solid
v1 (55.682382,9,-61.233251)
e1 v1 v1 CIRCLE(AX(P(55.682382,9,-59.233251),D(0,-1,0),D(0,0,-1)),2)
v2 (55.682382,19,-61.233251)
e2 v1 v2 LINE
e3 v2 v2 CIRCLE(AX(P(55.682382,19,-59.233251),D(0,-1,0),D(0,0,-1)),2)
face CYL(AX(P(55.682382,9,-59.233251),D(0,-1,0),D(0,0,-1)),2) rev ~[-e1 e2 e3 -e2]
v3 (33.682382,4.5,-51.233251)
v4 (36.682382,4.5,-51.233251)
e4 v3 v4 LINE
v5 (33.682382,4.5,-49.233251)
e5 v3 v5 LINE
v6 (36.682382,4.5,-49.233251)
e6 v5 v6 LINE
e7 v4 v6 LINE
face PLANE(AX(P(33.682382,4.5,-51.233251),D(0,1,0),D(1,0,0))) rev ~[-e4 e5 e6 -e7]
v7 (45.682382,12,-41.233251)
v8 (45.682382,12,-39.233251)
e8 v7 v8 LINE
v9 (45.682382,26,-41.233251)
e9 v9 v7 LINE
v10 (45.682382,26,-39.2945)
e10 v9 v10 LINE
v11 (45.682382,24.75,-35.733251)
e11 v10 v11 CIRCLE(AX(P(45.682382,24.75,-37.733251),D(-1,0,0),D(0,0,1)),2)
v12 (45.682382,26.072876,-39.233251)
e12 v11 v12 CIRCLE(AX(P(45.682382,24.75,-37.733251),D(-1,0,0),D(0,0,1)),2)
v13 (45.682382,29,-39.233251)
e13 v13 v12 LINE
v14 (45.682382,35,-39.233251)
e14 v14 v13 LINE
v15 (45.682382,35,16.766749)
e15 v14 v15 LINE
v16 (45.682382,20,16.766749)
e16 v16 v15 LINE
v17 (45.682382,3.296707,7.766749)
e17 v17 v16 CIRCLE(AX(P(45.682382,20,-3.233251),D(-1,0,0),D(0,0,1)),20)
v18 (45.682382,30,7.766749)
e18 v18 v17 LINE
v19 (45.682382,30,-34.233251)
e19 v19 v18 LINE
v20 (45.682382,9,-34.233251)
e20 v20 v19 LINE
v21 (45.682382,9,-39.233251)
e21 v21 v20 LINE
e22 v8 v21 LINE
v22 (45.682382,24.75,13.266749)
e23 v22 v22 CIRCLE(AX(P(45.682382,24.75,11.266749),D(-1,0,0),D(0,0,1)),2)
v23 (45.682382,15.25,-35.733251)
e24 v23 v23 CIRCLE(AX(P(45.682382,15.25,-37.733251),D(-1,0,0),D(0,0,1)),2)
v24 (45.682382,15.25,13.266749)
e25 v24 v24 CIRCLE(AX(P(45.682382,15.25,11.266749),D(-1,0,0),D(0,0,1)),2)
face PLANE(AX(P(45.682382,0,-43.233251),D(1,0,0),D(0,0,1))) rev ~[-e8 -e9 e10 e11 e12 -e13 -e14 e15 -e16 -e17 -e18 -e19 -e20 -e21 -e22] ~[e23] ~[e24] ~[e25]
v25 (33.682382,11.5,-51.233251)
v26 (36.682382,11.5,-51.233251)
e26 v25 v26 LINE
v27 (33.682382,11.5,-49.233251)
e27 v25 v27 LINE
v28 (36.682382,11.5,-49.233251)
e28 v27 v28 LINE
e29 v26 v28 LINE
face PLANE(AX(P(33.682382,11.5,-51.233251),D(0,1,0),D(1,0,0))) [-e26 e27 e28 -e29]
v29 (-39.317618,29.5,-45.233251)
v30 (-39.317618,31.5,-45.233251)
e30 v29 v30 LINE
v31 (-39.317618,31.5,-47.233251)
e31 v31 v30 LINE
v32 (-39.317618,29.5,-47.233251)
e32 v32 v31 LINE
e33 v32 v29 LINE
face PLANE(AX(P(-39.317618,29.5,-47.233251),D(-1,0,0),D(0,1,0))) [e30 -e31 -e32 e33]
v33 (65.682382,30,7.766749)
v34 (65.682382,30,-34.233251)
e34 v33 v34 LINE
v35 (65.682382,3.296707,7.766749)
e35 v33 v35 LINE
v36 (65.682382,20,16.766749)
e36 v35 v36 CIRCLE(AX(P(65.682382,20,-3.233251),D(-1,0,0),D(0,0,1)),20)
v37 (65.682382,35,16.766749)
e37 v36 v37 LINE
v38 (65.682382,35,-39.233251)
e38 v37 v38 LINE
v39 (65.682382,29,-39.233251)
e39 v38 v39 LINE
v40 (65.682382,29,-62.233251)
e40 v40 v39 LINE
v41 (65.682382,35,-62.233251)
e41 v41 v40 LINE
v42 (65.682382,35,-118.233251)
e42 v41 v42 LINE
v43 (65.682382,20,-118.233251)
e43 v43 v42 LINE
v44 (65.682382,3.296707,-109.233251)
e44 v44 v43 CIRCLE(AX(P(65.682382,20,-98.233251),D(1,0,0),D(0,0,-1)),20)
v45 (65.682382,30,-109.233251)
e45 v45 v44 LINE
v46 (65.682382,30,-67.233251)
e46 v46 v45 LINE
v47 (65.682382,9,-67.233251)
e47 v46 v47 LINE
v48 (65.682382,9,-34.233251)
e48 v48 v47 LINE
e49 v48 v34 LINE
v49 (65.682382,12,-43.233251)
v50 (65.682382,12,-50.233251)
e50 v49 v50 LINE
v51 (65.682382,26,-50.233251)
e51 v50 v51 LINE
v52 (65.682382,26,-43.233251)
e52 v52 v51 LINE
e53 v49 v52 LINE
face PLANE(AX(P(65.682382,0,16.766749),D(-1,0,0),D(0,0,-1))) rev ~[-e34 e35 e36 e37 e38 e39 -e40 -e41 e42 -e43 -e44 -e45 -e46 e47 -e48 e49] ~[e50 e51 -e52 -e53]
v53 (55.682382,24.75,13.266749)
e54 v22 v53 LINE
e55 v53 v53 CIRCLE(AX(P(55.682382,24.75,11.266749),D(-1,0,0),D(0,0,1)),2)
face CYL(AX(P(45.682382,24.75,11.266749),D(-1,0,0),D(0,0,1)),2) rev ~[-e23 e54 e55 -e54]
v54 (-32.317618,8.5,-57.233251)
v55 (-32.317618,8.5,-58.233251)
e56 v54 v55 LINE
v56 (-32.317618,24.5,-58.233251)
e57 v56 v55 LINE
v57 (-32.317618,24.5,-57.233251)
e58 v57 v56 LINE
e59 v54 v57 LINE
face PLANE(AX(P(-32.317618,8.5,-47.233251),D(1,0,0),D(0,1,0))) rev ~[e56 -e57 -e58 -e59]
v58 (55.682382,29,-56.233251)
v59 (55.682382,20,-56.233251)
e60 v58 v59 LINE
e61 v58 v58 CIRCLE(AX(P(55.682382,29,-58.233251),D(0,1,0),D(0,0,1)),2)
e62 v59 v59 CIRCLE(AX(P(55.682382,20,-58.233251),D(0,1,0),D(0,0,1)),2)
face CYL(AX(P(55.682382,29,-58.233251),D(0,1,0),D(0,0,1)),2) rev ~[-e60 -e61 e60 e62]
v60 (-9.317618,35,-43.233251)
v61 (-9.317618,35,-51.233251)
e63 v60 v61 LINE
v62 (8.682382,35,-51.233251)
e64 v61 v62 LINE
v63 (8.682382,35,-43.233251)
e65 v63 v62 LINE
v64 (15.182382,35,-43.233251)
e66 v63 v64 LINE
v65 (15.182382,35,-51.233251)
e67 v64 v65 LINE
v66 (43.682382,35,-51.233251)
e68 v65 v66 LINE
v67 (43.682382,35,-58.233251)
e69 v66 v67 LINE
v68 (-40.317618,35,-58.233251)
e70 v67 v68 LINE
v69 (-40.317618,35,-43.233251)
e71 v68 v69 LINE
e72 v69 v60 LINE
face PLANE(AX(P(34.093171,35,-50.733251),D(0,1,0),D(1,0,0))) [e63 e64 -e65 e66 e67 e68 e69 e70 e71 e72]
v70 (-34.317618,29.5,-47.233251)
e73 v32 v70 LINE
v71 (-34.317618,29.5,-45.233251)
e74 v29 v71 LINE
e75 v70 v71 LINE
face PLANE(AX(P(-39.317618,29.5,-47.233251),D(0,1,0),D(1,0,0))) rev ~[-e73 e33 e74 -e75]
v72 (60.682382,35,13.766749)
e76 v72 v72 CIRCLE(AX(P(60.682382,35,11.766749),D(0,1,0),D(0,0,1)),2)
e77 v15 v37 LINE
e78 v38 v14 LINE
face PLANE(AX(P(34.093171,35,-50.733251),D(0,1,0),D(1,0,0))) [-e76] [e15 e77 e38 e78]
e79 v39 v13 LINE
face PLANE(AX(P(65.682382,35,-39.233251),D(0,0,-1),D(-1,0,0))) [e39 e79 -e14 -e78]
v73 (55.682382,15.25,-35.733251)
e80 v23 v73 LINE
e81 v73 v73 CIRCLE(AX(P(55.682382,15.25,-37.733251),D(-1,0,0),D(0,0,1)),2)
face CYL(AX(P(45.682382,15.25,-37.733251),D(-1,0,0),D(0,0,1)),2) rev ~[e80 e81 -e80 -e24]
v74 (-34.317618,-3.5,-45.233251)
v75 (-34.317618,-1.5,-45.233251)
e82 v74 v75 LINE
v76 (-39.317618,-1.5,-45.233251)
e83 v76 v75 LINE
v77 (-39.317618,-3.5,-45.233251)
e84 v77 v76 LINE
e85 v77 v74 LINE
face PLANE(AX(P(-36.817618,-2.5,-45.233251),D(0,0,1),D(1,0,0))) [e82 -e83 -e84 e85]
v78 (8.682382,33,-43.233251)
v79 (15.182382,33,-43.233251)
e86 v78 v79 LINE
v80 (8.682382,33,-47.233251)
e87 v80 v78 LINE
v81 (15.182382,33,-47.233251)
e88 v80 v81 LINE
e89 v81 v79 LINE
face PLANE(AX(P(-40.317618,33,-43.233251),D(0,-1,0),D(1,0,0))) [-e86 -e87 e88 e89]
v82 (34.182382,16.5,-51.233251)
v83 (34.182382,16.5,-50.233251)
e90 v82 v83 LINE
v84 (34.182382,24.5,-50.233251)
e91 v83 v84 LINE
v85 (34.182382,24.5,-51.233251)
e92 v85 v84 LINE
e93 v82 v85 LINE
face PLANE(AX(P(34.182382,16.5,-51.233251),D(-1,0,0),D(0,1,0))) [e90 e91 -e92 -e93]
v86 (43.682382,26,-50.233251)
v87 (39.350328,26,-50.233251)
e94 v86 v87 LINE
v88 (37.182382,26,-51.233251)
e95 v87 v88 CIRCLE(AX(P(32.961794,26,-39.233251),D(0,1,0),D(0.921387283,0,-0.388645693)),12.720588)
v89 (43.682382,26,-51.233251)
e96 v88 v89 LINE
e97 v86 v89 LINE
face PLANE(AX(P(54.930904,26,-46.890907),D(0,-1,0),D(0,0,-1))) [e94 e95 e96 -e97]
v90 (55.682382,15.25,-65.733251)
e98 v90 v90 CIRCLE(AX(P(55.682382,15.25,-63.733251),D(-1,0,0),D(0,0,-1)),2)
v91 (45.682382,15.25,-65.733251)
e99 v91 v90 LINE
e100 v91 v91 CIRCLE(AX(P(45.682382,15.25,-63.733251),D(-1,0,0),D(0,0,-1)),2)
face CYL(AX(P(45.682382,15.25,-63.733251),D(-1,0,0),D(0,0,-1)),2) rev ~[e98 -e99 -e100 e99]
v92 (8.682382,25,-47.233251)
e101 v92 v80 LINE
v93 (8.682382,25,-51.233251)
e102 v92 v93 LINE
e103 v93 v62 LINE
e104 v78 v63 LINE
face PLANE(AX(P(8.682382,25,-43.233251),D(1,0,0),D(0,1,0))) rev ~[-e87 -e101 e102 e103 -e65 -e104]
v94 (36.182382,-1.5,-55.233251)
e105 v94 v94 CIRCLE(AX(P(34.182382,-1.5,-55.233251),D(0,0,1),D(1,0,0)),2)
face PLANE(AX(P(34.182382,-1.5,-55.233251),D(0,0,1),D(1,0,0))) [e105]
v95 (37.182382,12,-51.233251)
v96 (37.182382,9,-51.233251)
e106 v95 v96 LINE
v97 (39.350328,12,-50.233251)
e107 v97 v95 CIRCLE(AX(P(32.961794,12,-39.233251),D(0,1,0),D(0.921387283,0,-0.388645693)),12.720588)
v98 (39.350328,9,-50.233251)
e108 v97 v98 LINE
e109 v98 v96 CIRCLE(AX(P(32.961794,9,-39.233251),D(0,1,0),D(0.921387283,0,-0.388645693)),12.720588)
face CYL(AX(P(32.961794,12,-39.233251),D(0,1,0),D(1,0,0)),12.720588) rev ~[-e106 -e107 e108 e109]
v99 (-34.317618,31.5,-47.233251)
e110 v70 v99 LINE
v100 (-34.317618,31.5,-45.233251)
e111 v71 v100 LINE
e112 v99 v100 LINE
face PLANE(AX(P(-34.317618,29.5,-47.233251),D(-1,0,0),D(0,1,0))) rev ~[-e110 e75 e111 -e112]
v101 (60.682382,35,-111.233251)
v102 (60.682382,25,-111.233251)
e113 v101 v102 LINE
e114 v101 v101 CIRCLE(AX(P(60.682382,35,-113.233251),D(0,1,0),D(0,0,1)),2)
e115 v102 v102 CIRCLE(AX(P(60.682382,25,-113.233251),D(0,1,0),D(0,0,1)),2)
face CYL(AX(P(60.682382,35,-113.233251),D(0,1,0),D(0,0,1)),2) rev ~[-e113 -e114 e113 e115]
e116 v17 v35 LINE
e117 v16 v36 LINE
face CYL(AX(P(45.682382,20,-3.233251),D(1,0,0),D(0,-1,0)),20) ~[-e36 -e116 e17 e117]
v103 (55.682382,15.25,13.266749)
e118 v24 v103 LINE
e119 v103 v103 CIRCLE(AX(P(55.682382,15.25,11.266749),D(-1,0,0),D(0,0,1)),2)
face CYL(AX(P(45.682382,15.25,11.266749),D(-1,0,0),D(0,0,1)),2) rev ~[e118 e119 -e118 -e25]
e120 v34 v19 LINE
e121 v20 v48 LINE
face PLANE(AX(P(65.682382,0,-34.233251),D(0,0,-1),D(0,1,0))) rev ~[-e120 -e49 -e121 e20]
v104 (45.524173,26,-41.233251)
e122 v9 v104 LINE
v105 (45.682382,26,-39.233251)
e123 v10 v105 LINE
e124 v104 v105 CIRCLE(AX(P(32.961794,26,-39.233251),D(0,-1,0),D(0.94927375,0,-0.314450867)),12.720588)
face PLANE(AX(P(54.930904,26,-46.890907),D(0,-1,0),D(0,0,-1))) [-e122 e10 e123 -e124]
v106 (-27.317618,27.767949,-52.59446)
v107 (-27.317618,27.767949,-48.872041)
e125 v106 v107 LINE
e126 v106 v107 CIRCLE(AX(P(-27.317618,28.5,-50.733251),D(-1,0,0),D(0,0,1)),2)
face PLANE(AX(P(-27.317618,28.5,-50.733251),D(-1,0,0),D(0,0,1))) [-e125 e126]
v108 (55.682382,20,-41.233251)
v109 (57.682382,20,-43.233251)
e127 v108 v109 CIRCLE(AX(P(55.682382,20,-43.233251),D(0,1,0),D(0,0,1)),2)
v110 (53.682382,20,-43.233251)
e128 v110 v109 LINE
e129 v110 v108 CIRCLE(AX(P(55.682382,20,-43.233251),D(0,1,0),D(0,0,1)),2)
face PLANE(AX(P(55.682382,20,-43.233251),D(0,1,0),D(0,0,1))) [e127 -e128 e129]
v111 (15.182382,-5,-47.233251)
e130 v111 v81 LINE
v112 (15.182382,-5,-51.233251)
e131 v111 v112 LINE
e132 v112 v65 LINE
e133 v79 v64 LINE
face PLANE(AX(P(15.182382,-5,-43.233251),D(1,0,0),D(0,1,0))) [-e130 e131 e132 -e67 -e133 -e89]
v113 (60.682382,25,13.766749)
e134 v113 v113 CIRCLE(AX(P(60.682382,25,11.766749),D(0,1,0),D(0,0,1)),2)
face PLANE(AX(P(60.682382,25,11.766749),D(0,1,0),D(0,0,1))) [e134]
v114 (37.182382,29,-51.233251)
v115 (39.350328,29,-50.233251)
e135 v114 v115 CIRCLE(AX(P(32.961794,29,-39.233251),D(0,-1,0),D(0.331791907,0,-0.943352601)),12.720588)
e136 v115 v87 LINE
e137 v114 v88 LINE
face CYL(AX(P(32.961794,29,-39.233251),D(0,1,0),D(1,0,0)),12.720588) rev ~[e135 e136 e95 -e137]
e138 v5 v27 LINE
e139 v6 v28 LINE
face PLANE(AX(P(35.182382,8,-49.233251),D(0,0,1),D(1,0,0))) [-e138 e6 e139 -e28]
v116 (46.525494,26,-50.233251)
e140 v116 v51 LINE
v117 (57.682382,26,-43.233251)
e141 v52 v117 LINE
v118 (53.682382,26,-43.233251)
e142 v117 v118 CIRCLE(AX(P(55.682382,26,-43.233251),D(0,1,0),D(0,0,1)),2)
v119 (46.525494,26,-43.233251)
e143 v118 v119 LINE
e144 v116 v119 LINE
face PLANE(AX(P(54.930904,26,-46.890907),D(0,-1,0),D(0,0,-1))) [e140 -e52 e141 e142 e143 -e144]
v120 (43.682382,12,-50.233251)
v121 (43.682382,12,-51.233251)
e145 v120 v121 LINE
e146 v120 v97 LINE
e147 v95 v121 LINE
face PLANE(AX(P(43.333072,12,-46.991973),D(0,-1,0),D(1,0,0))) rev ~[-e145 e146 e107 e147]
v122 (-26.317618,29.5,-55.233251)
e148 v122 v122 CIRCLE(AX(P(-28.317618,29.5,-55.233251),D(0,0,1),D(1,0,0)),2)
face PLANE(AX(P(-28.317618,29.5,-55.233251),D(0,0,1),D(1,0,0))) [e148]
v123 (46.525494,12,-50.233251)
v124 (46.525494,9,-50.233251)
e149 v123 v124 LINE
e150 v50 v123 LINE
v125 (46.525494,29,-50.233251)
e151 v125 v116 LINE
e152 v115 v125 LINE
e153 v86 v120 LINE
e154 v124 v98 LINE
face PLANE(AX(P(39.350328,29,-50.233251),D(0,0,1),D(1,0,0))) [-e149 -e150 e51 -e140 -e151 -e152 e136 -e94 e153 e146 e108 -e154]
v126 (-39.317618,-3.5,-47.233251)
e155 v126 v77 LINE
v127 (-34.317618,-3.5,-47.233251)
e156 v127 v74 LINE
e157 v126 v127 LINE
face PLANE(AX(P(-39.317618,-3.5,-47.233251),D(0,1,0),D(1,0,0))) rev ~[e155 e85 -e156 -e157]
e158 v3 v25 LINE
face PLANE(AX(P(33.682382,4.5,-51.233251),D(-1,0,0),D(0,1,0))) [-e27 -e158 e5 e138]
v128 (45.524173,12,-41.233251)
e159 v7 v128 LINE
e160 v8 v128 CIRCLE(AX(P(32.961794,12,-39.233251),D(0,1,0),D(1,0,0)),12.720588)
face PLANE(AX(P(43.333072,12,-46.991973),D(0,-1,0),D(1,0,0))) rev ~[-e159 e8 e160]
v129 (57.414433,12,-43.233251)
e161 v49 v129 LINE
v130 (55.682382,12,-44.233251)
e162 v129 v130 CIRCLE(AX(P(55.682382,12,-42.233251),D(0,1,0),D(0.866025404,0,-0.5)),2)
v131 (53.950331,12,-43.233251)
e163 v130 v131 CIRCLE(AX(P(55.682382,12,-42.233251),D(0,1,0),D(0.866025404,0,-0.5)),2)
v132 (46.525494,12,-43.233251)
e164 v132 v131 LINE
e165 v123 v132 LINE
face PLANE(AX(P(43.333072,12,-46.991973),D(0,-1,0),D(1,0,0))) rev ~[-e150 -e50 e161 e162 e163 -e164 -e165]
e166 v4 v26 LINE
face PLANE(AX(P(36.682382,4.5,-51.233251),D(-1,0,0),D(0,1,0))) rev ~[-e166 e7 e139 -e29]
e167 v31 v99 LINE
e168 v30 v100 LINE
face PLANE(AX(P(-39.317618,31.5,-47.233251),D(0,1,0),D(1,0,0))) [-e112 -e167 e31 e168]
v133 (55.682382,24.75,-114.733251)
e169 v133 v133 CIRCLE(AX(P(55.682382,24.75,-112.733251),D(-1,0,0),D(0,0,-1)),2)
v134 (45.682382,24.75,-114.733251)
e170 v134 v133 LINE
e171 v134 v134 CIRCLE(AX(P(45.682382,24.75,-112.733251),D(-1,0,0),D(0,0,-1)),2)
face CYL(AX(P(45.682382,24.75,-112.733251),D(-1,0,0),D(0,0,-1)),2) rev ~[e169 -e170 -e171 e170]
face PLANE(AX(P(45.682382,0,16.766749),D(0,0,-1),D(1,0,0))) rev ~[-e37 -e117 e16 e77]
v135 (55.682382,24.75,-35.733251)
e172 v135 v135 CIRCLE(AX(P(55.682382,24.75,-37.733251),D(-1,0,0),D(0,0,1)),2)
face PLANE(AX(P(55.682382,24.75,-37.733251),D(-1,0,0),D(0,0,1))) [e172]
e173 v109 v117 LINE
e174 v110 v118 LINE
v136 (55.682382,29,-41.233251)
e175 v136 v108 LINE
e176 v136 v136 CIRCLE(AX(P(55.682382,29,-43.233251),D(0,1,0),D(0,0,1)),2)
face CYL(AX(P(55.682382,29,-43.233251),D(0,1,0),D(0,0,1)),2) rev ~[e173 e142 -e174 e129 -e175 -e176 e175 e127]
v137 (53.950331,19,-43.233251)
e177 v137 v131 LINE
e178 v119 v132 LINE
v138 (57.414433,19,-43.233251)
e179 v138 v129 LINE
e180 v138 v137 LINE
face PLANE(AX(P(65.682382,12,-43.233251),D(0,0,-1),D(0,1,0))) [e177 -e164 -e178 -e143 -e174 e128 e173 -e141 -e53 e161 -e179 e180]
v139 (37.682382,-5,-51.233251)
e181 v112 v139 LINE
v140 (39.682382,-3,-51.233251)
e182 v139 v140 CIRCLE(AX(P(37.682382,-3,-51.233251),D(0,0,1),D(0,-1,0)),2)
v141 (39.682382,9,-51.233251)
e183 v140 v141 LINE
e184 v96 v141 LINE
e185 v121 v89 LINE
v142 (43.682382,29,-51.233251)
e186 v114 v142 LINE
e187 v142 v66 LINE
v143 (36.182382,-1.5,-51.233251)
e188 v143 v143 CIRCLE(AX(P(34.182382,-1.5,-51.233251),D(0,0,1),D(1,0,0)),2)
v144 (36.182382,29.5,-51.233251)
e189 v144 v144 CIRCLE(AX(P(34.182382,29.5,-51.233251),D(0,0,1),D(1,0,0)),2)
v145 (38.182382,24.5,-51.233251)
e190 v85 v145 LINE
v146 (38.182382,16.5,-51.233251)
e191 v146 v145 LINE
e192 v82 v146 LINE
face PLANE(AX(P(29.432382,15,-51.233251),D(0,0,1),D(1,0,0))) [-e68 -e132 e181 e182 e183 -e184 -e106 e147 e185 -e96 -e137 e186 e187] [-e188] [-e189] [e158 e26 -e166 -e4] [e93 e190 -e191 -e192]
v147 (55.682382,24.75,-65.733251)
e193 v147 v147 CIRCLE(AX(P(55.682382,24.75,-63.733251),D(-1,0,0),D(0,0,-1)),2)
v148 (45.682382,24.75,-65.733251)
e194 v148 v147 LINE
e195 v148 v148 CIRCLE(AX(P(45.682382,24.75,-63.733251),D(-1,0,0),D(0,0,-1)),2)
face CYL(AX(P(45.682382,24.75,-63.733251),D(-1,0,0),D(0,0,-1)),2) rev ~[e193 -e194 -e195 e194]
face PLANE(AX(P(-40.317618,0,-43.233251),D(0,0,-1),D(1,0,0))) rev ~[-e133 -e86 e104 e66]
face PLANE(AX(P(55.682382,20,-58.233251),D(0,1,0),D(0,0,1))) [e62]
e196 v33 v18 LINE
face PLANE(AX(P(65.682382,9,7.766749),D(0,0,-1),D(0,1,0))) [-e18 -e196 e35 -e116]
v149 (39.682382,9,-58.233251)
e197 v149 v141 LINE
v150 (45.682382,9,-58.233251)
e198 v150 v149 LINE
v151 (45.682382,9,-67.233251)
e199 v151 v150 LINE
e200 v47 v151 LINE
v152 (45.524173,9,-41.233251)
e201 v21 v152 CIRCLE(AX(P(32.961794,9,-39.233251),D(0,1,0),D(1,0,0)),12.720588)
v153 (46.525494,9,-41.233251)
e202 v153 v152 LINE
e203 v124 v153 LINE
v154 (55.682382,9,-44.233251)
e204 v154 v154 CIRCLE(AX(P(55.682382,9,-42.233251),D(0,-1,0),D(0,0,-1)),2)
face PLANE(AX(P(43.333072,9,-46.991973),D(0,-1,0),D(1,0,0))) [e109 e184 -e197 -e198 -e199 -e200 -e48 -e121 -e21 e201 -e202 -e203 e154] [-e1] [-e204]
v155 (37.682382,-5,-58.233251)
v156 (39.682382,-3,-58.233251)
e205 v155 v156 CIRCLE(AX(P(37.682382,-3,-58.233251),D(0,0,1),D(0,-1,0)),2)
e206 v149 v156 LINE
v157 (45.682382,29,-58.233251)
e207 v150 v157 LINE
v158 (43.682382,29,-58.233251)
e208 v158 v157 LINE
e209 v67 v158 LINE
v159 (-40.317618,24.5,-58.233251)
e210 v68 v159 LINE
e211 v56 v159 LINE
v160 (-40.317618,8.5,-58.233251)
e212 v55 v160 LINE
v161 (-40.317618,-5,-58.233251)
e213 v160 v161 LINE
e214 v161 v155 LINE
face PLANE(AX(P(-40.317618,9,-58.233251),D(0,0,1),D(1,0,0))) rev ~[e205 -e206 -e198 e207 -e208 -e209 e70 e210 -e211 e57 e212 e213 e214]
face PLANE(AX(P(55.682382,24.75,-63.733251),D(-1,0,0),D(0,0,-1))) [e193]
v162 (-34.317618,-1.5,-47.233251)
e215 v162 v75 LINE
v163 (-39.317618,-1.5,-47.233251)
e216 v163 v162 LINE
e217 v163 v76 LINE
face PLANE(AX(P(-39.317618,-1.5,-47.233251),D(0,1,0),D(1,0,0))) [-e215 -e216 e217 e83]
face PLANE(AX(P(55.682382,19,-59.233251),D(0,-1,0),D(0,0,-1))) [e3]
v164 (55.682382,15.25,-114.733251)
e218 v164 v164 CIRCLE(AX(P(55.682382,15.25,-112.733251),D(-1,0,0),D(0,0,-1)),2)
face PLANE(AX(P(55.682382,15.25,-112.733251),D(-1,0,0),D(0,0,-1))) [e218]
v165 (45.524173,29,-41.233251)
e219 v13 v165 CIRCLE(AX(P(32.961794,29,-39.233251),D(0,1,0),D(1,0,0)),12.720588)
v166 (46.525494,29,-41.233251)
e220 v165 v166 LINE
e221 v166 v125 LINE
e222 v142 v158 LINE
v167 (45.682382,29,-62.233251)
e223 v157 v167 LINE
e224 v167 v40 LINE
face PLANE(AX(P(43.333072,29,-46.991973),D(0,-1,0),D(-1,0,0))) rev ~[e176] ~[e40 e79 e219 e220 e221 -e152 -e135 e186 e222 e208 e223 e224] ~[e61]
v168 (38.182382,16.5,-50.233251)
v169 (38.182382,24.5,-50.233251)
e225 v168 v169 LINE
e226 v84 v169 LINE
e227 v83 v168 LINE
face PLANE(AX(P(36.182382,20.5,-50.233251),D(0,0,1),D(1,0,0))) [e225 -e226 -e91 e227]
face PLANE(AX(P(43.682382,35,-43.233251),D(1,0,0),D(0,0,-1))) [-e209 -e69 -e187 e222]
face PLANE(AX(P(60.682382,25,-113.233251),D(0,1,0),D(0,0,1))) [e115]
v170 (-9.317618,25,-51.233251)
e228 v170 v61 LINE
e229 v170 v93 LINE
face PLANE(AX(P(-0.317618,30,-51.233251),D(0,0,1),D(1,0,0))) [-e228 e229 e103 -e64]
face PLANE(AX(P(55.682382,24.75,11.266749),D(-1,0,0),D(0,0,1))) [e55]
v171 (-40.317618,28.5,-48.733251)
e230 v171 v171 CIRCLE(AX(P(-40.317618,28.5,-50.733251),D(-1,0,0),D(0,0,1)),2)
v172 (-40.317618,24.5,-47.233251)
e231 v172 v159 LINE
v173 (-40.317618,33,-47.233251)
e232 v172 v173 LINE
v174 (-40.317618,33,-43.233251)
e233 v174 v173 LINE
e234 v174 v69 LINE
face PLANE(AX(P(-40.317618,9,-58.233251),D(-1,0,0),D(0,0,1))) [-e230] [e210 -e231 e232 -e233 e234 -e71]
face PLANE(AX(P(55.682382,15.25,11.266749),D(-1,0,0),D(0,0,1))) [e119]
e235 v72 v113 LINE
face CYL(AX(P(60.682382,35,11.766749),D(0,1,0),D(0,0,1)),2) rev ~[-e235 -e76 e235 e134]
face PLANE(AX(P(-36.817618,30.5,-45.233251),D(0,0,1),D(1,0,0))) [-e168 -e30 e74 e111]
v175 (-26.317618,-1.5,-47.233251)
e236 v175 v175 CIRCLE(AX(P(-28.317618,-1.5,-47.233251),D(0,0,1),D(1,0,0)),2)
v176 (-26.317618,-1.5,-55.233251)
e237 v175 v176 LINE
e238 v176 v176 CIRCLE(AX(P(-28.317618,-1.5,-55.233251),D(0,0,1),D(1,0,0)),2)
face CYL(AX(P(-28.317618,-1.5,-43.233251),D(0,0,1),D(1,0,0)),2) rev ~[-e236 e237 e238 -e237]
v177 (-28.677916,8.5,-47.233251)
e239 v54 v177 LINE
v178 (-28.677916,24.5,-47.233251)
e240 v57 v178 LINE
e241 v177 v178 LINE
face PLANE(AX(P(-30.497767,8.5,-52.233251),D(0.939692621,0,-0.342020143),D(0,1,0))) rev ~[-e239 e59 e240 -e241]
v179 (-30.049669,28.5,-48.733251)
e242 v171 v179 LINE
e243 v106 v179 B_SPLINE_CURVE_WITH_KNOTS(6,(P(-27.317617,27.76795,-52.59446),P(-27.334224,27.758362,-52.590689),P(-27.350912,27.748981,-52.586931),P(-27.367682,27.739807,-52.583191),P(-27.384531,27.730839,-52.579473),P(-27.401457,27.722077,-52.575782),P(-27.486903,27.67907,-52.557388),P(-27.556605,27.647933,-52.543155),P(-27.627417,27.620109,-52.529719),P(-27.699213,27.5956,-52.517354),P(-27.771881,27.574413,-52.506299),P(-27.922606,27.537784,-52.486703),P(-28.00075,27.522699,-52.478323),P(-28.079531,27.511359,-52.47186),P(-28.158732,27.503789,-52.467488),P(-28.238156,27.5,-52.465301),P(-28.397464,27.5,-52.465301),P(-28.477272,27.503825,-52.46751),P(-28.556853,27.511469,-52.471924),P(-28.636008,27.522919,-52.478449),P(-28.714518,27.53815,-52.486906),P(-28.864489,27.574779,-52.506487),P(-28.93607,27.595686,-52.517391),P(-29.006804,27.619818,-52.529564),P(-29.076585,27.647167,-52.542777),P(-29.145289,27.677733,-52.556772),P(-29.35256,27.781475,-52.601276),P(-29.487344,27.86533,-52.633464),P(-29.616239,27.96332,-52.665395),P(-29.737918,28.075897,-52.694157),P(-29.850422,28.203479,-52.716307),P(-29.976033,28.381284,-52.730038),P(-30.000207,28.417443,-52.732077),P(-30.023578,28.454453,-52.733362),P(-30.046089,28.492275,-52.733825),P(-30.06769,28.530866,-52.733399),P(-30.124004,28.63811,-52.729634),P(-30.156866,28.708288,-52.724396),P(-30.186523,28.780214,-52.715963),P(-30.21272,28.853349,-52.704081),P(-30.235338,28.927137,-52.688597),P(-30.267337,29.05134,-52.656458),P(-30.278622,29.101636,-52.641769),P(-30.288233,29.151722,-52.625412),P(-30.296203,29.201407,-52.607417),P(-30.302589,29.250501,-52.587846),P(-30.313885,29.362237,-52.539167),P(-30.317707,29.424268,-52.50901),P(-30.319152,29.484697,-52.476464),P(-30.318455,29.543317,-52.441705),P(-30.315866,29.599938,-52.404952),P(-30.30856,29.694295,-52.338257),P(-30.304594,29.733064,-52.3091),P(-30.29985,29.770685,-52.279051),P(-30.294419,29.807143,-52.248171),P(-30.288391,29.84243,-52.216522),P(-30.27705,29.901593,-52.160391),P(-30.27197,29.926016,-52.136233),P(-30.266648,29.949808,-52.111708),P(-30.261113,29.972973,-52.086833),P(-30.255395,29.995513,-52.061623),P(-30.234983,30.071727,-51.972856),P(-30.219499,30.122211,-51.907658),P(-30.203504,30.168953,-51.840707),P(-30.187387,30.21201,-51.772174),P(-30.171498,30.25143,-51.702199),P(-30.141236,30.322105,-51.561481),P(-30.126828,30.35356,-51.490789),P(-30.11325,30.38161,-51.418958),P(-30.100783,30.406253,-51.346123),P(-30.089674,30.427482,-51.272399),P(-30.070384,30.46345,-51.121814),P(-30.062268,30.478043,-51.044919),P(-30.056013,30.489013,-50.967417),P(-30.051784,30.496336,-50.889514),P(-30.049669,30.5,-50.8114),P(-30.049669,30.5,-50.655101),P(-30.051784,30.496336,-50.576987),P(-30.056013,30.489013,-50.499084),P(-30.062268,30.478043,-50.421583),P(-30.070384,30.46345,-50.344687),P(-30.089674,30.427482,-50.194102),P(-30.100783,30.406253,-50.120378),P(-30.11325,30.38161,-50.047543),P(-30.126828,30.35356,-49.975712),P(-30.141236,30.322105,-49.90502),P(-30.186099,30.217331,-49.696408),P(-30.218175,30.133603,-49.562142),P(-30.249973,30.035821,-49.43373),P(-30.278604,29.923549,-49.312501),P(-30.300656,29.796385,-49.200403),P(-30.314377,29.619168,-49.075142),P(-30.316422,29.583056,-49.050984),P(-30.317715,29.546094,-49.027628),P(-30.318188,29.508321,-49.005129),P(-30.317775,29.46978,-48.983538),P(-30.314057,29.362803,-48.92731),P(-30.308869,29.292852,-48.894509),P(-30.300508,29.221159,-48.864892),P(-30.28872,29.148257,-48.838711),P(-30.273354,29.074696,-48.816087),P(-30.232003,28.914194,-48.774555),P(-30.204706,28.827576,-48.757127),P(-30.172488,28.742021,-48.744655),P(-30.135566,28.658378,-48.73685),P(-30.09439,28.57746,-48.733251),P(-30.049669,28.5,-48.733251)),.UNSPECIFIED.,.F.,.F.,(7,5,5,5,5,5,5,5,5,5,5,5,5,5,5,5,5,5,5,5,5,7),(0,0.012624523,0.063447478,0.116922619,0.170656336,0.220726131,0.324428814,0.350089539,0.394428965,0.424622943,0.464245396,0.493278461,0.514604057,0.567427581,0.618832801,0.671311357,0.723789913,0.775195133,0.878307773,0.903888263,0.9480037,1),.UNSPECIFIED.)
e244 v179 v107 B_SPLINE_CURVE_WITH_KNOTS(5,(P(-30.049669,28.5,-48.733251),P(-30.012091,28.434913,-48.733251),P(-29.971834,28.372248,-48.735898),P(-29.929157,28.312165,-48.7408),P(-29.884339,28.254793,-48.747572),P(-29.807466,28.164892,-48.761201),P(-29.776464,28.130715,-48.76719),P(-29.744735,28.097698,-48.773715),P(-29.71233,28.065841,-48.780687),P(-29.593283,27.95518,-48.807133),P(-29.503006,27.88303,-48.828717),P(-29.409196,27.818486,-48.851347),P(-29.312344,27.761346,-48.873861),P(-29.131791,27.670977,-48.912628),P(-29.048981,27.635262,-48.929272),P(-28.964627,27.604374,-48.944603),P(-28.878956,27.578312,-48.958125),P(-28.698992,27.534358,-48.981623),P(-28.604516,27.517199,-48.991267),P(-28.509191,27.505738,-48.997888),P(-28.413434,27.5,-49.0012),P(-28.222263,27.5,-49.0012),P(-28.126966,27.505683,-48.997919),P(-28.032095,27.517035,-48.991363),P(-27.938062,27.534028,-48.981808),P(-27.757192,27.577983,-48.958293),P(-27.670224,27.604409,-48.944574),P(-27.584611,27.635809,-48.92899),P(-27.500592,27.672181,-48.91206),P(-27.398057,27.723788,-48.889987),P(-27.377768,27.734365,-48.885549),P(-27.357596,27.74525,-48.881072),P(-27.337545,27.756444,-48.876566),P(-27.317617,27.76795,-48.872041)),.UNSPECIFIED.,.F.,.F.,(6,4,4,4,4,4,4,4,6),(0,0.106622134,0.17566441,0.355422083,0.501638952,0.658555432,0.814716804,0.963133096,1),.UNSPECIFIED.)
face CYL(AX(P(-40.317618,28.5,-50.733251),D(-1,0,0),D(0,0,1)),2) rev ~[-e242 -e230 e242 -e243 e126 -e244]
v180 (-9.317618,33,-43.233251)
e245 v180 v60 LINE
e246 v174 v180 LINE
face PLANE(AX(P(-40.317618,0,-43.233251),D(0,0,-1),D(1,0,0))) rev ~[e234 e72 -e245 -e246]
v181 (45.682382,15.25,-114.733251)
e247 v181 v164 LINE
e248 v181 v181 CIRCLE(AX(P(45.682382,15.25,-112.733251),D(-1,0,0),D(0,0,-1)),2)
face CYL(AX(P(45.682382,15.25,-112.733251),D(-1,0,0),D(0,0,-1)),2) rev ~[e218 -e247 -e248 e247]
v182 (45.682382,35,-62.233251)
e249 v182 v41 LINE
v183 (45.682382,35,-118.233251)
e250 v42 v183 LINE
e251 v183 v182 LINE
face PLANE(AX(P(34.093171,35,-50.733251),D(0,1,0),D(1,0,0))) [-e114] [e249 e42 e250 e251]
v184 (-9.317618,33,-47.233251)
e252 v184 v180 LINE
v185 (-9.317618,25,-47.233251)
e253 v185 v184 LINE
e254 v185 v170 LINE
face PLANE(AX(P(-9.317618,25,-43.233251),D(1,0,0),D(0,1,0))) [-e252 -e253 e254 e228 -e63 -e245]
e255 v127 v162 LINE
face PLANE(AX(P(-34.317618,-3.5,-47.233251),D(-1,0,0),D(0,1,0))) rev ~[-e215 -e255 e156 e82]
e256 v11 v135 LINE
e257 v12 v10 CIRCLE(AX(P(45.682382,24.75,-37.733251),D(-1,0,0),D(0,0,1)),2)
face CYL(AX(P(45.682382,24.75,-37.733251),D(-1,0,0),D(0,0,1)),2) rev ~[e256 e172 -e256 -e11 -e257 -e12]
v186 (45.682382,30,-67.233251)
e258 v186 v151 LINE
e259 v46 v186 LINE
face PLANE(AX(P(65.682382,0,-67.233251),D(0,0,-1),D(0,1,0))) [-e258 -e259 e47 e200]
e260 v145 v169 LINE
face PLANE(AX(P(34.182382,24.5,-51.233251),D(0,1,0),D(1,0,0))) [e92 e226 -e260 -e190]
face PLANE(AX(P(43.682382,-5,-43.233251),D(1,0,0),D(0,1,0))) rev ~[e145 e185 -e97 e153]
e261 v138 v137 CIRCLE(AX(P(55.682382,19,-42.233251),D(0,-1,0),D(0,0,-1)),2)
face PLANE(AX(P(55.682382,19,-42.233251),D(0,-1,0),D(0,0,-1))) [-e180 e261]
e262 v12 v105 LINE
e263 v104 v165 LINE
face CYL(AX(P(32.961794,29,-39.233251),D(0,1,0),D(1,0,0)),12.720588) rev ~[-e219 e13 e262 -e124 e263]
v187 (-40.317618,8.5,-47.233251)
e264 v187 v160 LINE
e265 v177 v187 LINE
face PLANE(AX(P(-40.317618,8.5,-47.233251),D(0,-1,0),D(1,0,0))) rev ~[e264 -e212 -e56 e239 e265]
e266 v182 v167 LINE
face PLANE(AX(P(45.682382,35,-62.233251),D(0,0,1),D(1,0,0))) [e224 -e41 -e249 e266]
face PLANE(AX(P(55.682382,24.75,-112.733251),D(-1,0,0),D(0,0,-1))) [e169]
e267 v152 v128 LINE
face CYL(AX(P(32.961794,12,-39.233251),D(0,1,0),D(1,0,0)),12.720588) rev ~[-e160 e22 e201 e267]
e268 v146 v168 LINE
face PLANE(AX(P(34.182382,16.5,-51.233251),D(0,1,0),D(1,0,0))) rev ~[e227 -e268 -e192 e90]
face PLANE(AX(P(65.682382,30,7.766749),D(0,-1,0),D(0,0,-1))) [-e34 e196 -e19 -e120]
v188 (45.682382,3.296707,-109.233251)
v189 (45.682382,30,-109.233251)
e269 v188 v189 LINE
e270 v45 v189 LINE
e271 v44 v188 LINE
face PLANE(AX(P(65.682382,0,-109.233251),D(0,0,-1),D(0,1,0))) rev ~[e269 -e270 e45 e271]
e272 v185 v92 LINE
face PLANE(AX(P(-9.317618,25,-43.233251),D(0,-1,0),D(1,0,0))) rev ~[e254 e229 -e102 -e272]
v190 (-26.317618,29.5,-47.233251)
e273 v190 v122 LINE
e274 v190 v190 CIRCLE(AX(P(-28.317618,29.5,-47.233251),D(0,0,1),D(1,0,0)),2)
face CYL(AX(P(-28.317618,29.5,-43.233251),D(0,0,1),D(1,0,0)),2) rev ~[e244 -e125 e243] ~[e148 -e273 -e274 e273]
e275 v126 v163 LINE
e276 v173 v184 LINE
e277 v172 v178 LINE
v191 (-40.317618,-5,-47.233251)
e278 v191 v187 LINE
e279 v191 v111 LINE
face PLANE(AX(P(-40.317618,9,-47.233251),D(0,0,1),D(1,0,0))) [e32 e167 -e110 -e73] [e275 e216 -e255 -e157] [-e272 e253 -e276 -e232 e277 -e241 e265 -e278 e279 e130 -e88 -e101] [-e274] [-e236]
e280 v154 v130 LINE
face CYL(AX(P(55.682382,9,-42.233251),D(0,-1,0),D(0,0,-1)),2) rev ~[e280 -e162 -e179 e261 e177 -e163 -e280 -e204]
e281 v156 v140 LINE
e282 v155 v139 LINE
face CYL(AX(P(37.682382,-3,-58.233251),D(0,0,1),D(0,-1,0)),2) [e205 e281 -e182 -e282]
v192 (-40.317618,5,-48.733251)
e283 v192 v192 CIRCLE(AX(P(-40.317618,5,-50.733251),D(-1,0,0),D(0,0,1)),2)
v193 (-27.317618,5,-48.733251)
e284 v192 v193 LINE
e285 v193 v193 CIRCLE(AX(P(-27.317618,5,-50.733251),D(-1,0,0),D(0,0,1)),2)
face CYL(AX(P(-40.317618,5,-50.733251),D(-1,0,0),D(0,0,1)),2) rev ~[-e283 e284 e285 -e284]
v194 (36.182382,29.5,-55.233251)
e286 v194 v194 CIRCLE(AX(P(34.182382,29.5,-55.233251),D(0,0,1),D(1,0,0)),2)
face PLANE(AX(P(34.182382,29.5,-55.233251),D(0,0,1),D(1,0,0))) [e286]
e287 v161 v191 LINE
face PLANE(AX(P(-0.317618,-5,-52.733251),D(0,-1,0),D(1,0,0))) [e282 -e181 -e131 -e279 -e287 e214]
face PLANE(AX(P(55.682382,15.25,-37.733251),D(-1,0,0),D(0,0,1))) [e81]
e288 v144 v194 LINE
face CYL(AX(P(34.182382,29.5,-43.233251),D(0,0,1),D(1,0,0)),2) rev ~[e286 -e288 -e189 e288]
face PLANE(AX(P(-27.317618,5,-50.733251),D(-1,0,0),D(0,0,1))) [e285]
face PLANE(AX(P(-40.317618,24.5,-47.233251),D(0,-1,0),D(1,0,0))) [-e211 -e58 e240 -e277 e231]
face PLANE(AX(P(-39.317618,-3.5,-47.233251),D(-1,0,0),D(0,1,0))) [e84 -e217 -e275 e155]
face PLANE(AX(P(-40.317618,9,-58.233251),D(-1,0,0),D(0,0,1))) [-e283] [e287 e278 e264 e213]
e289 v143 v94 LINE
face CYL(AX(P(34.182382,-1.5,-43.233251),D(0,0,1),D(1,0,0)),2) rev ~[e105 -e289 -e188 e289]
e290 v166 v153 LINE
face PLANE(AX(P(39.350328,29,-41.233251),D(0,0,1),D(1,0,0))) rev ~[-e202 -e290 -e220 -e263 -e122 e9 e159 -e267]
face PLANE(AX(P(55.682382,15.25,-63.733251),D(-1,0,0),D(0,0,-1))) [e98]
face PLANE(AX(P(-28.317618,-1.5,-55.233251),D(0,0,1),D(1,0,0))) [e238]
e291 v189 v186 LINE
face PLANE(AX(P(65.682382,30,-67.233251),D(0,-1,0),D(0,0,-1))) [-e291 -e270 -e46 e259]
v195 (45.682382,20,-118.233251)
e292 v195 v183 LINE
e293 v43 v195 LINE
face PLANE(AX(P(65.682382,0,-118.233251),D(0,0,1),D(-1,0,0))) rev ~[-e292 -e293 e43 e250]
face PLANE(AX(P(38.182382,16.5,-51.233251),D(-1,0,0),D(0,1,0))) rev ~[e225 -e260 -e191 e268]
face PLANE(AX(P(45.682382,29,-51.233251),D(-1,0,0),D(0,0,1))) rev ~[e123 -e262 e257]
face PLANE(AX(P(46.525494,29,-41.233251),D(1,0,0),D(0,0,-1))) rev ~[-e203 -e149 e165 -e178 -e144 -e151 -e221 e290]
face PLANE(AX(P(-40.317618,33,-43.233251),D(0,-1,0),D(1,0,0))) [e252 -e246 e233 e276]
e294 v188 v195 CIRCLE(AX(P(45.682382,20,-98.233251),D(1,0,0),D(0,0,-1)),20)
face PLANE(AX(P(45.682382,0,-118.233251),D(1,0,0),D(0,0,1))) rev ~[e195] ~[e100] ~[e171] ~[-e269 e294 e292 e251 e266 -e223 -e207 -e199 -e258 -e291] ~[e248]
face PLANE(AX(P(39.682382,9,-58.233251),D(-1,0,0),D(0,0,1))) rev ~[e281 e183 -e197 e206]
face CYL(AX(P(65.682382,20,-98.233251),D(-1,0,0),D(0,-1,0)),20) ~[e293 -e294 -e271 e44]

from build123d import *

# Parameters (mm, degrees)
BOSS_EXTRUDE1_DEPTH      = 35
CUT_EXTRUDE1_REACH       = 164.604
SKETCH2_W                = 42
SKETCH2_H                = 21
SKETCH3_R                = 2
CUT_EXTRUDE2_DEPTH       = 10
FILLET1_R                = 20
CUT_EXTRUDE5_REACH       = 164.604
SKETCH6_W                = 42
SKETCH6_H                = 9
CUT_EXTRUDE7_DEPTH       = 9
SKETCH9_R                = 2
CUT_EXTRUDE8_DEPTH       = 10
CUT_EXTRUDE9_DEPTH       = 6
SKETCH11_R               = 2
CUT_EXTRUDE10_DEPTH      = 9
SKETCH12_R               = 2
CUT_EXTRUDE11_DEPTH      = 10
SKETCH14_W               = 85
SKETCH14_H               = 33
CUT_EXTRUDE13_DEPTH      = 4
SKETCH15_W               = 28
SKETCH15_H               = 20
CUT_EXTRUDE14_DEPTH      = 4
BOSS_EXTRUDE2_DEPTH      = 5
BOSS_EXTRUDE2_DEPTH_BACK = 9
SKETCH16_W               = 80
SKETCH16_H               = 11
SKETCH13_R               = 2
CUT_EXTRUDE12_DEPTH      = 12
FILLET2_R                = 2
SKETCH17_W               = 28.5
SKETCH17_H               = 40
SKETCH17_W_2             = 18
SKETCH17_H_2             = 10
CUT_EXTRUDE15_DEPTH      = 8
CUT_EXTRUDE18_REACH      = 104.86
SKETCH20_W               = 8
SKETCH20_H               = 16
SKETCH7_R                = 2
CUT_EXTRUDE6_DEPTH       = 13
CHAMFER1_SIZE            = 10
CHAMFER1_SIZE2           = 3.639702343
CUT_EXTRUDE19_REACH      = 164.604
SKETCH22_W               = 7
SKETCH22_H               = 14
BOSS_EXTRUDE4_REACH      = 141.461
BOSS_EXTRUDE5_START      = -3
BOSS_EXTRUDE5_DEPTH      = 3
CUT_EXTRUDE21_DEPTH      = 140.460664257
SKETCH27_W               = 7.175165893
SKETCH27_H               = 9
CUT_EXTRUDE22_DEPTH      = 140.460664257
SKETCH28_W               = 5
SKETCH28_H               = 2
BOSS_EXTRUDE6_DEPTH      = 2
SKETCH29_W               = 4
SKETCH29_H               = 8
BOSS_EXTRUDE7_DEPTH      = 1
SKETCH30_W               = 3
SKETCH30_H               = 7
BOSS_EXTRUDE8_DEPTH      = 2


with BuildPart() as part:
    # Sketch1 → Boss-Extrude1 (new body)
    with BuildSketch(Plane(origin=(0, 0, 0), x_dir=(1, 0, 0), z_dir=(0, 1, 0))):
        Polygon((-40.317617866, 43.23325062), (45.682382134, 43.23325062), (45.682382134, -16.76674938), (65.682382134, -16.76674938), (65.682382134, 118.23325062), (45.682382134, 118.23325062), (45.682382134, 58.23325062), (-40.317617866, 58.23325062), align=None)
    extrude(amount=BOSS_EXTRUDE1_DEPTH)

    # Sketch2 → Cut-Extrude1 (cut, up to next)
    with BuildSketch(Plane(origin=(65.682382134, 0, 0), x_dir=(0, 0, -1), z_dir=(1, 0, 0)), mode=Mode.PRIVATE) as cut_extrude1_sk1:
        with Locations((13.23325062, 19.5)):
            Rectangle(SKETCH2_W, SKETCH2_H)
    cut_extrude1_tool1 = extrude(cut_extrude1_sk1.sketch, amount=-CUT_EXTRUDE1_REACH, mode=Mode.PRIVATE) & part.part
    # Sketch2 → Cut-Extrude1 (cut, up to next)
    with BuildSketch(Plane(origin=(65.682382134, 0, 0), x_dir=(0, 0, -1), z_dir=(1, 0, 0)), mode=Mode.PRIVATE) as cut_extrude1_sk2:
        with Locations((88.23325062, 19.5)):
            Rectangle(SKETCH2_W, SKETCH2_H)
    cut_extrude1_tool2 = extrude(cut_extrude1_sk2.sketch, amount=-CUT_EXTRUDE1_REACH, mode=Mode.PRIVATE) & part.part
    add(cut_extrude1_tool1.solids().sort_by_distance((65.682382, 19.5, -13.233251))[0], mode=Mode.SUBTRACT)
    add(cut_extrude1_tool2.solids().sort_by_distance((65.682382, 19.5, -88.233251))[0], mode=Mode.SUBTRACT)

    # Sketch3 → Cut-Extrude2 (cut)
    with BuildSketch(Plane.ZY.offset(-45.682382134)):
        with Locations((11.26674938, 24.75)):
            Circle(SKETCH3_R)
        with Locations((11.26674938, 15.25)):
            Circle(SKETCH3_R)
        with Locations((-37.73325062, 24.75)):
            Circle(SKETCH3_R)
        with Locations((-37.73325062, 15.25)):
            Circle(SKETCH3_R)
        with Locations(Location((-112.73325062, 24.75, 0), (0, 0, 180))):
            Circle(SKETCH3_R)
        with Locations(Location((-112.73325062, 15.25, 0), (0, 0, 180))):
            Circle(SKETCH3_R)
        with Locations(Location((-63.73325062, 15.25, 0), (0, 0, 180))):
            Circle(SKETCH3_R)
        with Locations(Location((-63.73325062, 24.75, 0), (0, 0, 180))):
            Circle(SKETCH3_R)
    extrude(amount=-CUT_EXTRUDE2_DEPTH, mode=Mode.SUBTRACT)

    # Fillet1
    fillet1_edges = [part.edges().sort_by_distance(p)[0] for p in [
        (55.682382134, 0, -118.23325062),
        (55.682382134, 0, 16.76674938),
    ]]
    fillet(fillet1_edges, radius=FILLET1_R)

    # Sketch6 → Cut-Extrude5 (cut, up to next)
    with BuildSketch(Plane(origin=(65.682382134, 0, 0), x_dir=(0, 0, -1), z_dir=(1, 0, 0)), mode=Mode.PRIVATE) as cut_extrude5_sk1:
        with Locations((13.23325062, 4.5)):
            Rectangle(SKETCH6_W, SKETCH6_H)
    cut_extrude5_tool1 = extrude(cut_extrude5_sk1.sketch, amount=-CUT_EXTRUDE5_REACH, mode=Mode.PRIVATE) & part.part
    # Sketch6 → Cut-Extrude5 (cut, up to next)
    with BuildSketch(Plane(origin=(65.682382134, 0, 0), x_dir=(0, 0, -1), z_dir=(1, 0, 0)), mode=Mode.PRIVATE) as cut_extrude5_sk2:
        with Locations((88.23325062, 4.5)):
            Rectangle(SKETCH6_W, SKETCH6_H)
    cut_extrude5_tool2 = extrude(cut_extrude5_sk2.sketch, amount=-CUT_EXTRUDE5_REACH, mode=Mode.PRIVATE) & part.part
    add(cut_extrude5_tool1.solids().sort_by_distance((65.682382, 4.5, -13.233251))[0], mode=Mode.SUBTRACT)
    add(cut_extrude5_tool2.solids().sort_by_distance((65.682382, 4.5, -88.233251))[0], mode=Mode.SUBTRACT)

    # Sketch8 → Cut-Extrude7 (cut)
    with BuildSketch(Plane.XZ):
        Polygon((45.682382134, -67.23325062), (45.682382134, -58.23325062), (25.682382134, -58.23325062), (25.682382134, -43.23325062), (45.682382134, -43.23325062), (45.682382134, -34.23325062), (65.682382134, -34.23325062), (65.682382134, -67.23325062), align=None)
    extrude(amount=-CUT_EXTRUDE7_DEPTH, mode=Mode.SUBTRACT)

    # Sketch9 → Cut-Extrude8 (cut)
    with BuildSketch(Plane.XZ.offset(-9)):
        with Locations(Location((55.682382134, -42.23325062, 0), (0, 0, 270))):
            Circle(SKETCH9_R)
        with Locations(Location((55.682382134, -59.23325062, 0), (0, 0, 270))):
            Circle(SKETCH9_R)
    extrude(amount=-CUT_EXTRUDE8_DEPTH, mode=Mode.SUBTRACT)

    # Sketch10 → Cut-Extrude9 (cut)
    with BuildSketch(Plane(origin=(0, 35, 0), x_dir=(1, 0, 0), z_dir=(0, 1, 0))):
        Polygon((45.682382134, 62.23325062), (65.682382134, 62.23325062), (65.682382134, 39.23325062), (45.682382134, 39.23325062), (45.682382134, 43.23325062), (43.682382134, 43.23325062), (43.682382134, 58.23325062), (45.682382134, 58.23325062), align=None)
    extrude(amount=-CUT_EXTRUDE9_DEPTH, mode=Mode.SUBTRACT)

    # Sketch11 → Cut-Extrude10 (cut)
    with BuildSketch(Plane(origin=(0, 29, 0), x_dir=(1, 0, 0), z_dir=(0, 1, 0))):
        with Locations(Location((55.682382134, 58.23325062, 0), (0, 0, 270))):
            Circle(SKETCH11_R)
        with Locations(Location((55.682382134, 43.23325062, 0), (0, 0, 270))):
            Circle(SKETCH11_R)
    extrude(amount=-CUT_EXTRUDE10_DEPTH, mode=Mode.SUBTRACT)

    # Sketch12 → Cut-Extrude11 (cut)
    with BuildSketch(Plane(origin=(0, 35, 0), x_dir=(1, 0, 0), z_dir=(0, 1, 0))):
        with Locations(Location((60.682382134, -11.76674938, 0), (0, 0, 270))):
            Circle(SKETCH12_R)
        with Locations(Location((60.682382134, 113.23325062, 0), (0, 0, 270))):
            Circle(SKETCH12_R)
    extrude(amount=-CUT_EXTRUDE11_DEPTH, mode=Mode.SUBTRACT)

    # Sketch14 → Cut-Extrude13 (cut)
    with BuildSketch(Plane.XY.offset(-43.23325062)):
        with Locations((2.182382134, 16.5)):
            Rectangle(SKETCH14_W, SKETCH14_H)
    extrude(amount=-CUT_EXTRUDE13_DEPTH, mode=Mode.SUBTRACT)

    # Sketch15 → Cut-Extrude14 (cut)
    with BuildSketch(Plane.XY.offset(-47.23325062)):
        with Locations((29.682382134, 10)):
            Rectangle(SKETCH15_W, SKETCH15_H)
    extrude(amount=-CUT_EXTRUDE14_DEPTH, mode=Mode.SUBTRACT)

    # Sketch16 → Boss-Extrude2 (add, two sides: drawn at the far end of the back side and taken through both)
    with BuildSketch(Plane.XZ.offset(-BOSS_EXTRUDE2_DEPTH_BACK)):
        with Locations((-0.317617866, -52.73325062)):
            Rectangle(SKETCH16_W, SKETCH16_H)
    extrude(amount=BOSS_EXTRUDE2_DEPTH + BOSS_EXTRUDE2_DEPTH_BACK)

    # Sketch13 → Cut-Extrude12 (cut)
    with BuildSketch(Plane.XY.offset(-43.23325062)):
        with Locations((-28.317617866, 29.5)):
            Circle(SKETCH13_R)
        with Locations((34.182382134, 29.5)):
            Circle(SKETCH13_R)
        with Locations((34.182382134, -1.5)):
            Circle(SKETCH13_R)
        with Locations((-28.317617866, -1.5)):
            Circle(SKETCH13_R)
    extrude(amount=-CUT_EXTRUDE12_DEPTH, mode=Mode.SUBTRACT)

    # Fillet2
    fillet2_edges = [part.edges().sort_by_distance(p)[0] for p in [
        (39.682382134, -5, -52.73325062),
    ]]
    fillet(fillet2_edges, radius=FILLET2_R)

    # Sketch17 → Cut-Extrude15 (cut)
    with BuildSketch(Plane.XY.offset(-43.23325062)):
        with Locations((29.432382134, 15)):
            Rectangle(SKETCH17_W, SKETCH17_H)
        with Locations((-0.317617866, 30)):
            Rectangle(SKETCH17_W_2, SKETCH17_H_2)
    extrude(amount=-CUT_EXTRUDE15_DEPTH, mode=Mode.SUBTRACT)

    # Sketch20 → Cut-Extrude18 (cut, up to next)
    with BuildSketch(Plane.XY.offset(-47.23325062), mode=Mode.PRIVATE) as cut_extrude18_sk1:
        with Locations((-36.317617866, 16.5)):
            Rectangle(SKETCH20_W, SKETCH20_H)
    cut_extrude18_tool1 = extrude(cut_extrude18_sk1.sketch, amount=-CUT_EXTRUDE18_REACH, mode=Mode.PRIVATE) & part.part
    add(cut_extrude18_tool1.solids().sort_by_distance((-36.317618, 16.5, -47.233251))[0], mode=Mode.SUBTRACT)

    # Sketch7 → Cut-Extrude6 (cut)
    with BuildSketch(Plane.ZY.offset(40.317617866)):
        with Locations((-50.73325062, 28.5)):
            Circle(SKETCH7_R)
        with Locations((-50.73325062, 5)):
            Circle(SKETCH7_R)
    extrude(amount=-CUT_EXTRUDE6_DEPTH, mode=Mode.SUBTRACT)

    # Chamfer1
    chamfer1_edges = [part.edges().sort_by_distance(p)[0] for p in [
        (-32.317617866, 16.5, -47.23325062),
    ]]
    chamfer1_side = [part.faces().sort_by_distance(p)[0] for p in [
        (-32.317617866, 16.5, -52.73325062),
    ]]
    chamfer(chamfer1_edges, length=CHAMFER1_SIZE, length2=CHAMFER1_SIZE2, reference=chamfer1_side[0])

    # Sketch22 → Cut-Extrude19 (cut, up to next)
    with BuildSketch(Plane(origin=(65.682382134, 0, 0), x_dir=(0, 0, -1), z_dir=(1, 0, 0)), mode=Mode.PRIVATE) as cut_extrude19_sk1:
        with Locations((46.73325062, 19)):
            Rectangle(SKETCH22_W, SKETCH22_H)
    cut_extrude19_tool1 = extrude(cut_extrude19_sk1.sketch, amount=-CUT_EXTRUDE19_REACH, mode=Mode.PRIVATE) & part.part
    add(cut_extrude19_tool1.solids().sort_by_distance((65.682382, 19, -46.733251))[0], mode=Mode.SUBTRACT)

    # Boss-Extrude4: up to this face of the body (flat: up to its plane)
    boss_extrude4_end = Plane(part.part.faces().sort_by_distance((54.930904304, 26, -46.8909066))[0])
    # Sketch24 → Boss-Extrude4 (add, up to the picked face)
    with BuildSketch(Plane(origin=(0, 29, 0), x_dir=(1, 0, 0), z_dir=(0, 1, 0)), mode=Mode.PRIVATE) as boss_extrude4_sk1:
        with BuildLine():
            Line((37.182382134, 51.23325062), (45.682382134, 51.23325062))
            Line((45.682382134, 51.23325062), (45.682382134, 39.23325062))
            ThreePointArc((45.682382134, 39.23325062), (43.342105313, 46.585971205), (37.182382134, 51.23325062))
        make_face()
    boss_extrude4_tool1 = split(extrude(boss_extrude4_sk1.sketch, amount=-BOSS_EXTRUDE4_REACH, mode=Mode.PRIVATE), bisect_by=boss_extrude4_end, keep=Keep.BOTH, mode=Mode.PRIVATE)
    add(boss_extrude4_tool1.solids().sort_by(Axis((43.397163, 29, -48.466484), (0, -1, 0)))[0])

    # Sketch25 → Boss-Extrude5 (add)
    with BuildSketch(Plane.XZ.offset(-9).offset(BOSS_EXTRUDE5_START)):
        with BuildLine():
            Line((37.182382134, -51.23325062), (45.682382134, -51.23325062))
            Line((45.682382134, -51.23325062), (45.682382134, -39.23325062))
            ThreePointArc((45.682382134, -39.23325062), (43.342105313, -46.585971205), (37.182382134, -51.23325062))
        make_face()
    extrude(amount=BOSS_EXTRUDE5_DEPTH)

    # Sketch26 → Cut-Extrude21 (cut, through all)
    with BuildSketch(Plane(origin=(0, 29, 0), x_dir=(1, 0, 0), z_dir=(0, 1, 0))):
        with BuildLine():
            Line((45.239754001, 42.559669232), (43.686053775, 42.559669232))
            Line((43.686053775, 42.559669232), (44.063234426, 45.443837008))
            ThreePointArc((44.063234426, 45.443837008), (44.740108693, 44.037901041), (45.239754001, 42.559669232))
        make_face()
    extrude(amount=-CUT_EXTRUDE21_DEPTH, mode=Mode.SUBTRACT)

    # Sketch27 → Cut-Extrude22 (cut, through all)
    with BuildSketch(Plane(origin=(0, 29, 0), x_dir=(1, 0, 0), z_dir=(0, 1, 0))):
        with Locations((42.937910719, 45.73325062)):
            Rectangle(SKETCH27_W, SKETCH27_H)
    extrude(amount=-CUT_EXTRUDE22_DEPTH, mode=Mode.SUBTRACT)

    # Sketch28 → Boss-Extrude6 (add)
    with BuildSketch(Plane.XY.offset(-47.23325062)):
        with Locations((-36.817617866, 30.5)):
            Rectangle(SKETCH28_W, SKETCH28_H)
        with Locations((-36.817617866, -2.5)):
            Rectangle(SKETCH28_W, SKETCH28_H)
    extrude(amount=BOSS_EXTRUDE6_DEPTH)

    # Sketch29 → Boss-Extrude7 (add)
    with BuildSketch(Plane.XY.offset(-51.23325062)):
        with Locations((36.182382134, 20.5)):
            Rectangle(SKETCH29_W, SKETCH29_H)
    extrude(amount=BOSS_EXTRUDE7_DEPTH)

    # Sketch30 → Boss-Extrude8 (add)
    with BuildSketch(Plane.XY.offset(-51.23325062)):
        with Locations((35.182382134, 8)):
            Rectangle(SKETCH30_W, SKETCH30_H)
    extrude(amount=BOSS_EXTRUDE8_DEPTH)


solid = part.part
